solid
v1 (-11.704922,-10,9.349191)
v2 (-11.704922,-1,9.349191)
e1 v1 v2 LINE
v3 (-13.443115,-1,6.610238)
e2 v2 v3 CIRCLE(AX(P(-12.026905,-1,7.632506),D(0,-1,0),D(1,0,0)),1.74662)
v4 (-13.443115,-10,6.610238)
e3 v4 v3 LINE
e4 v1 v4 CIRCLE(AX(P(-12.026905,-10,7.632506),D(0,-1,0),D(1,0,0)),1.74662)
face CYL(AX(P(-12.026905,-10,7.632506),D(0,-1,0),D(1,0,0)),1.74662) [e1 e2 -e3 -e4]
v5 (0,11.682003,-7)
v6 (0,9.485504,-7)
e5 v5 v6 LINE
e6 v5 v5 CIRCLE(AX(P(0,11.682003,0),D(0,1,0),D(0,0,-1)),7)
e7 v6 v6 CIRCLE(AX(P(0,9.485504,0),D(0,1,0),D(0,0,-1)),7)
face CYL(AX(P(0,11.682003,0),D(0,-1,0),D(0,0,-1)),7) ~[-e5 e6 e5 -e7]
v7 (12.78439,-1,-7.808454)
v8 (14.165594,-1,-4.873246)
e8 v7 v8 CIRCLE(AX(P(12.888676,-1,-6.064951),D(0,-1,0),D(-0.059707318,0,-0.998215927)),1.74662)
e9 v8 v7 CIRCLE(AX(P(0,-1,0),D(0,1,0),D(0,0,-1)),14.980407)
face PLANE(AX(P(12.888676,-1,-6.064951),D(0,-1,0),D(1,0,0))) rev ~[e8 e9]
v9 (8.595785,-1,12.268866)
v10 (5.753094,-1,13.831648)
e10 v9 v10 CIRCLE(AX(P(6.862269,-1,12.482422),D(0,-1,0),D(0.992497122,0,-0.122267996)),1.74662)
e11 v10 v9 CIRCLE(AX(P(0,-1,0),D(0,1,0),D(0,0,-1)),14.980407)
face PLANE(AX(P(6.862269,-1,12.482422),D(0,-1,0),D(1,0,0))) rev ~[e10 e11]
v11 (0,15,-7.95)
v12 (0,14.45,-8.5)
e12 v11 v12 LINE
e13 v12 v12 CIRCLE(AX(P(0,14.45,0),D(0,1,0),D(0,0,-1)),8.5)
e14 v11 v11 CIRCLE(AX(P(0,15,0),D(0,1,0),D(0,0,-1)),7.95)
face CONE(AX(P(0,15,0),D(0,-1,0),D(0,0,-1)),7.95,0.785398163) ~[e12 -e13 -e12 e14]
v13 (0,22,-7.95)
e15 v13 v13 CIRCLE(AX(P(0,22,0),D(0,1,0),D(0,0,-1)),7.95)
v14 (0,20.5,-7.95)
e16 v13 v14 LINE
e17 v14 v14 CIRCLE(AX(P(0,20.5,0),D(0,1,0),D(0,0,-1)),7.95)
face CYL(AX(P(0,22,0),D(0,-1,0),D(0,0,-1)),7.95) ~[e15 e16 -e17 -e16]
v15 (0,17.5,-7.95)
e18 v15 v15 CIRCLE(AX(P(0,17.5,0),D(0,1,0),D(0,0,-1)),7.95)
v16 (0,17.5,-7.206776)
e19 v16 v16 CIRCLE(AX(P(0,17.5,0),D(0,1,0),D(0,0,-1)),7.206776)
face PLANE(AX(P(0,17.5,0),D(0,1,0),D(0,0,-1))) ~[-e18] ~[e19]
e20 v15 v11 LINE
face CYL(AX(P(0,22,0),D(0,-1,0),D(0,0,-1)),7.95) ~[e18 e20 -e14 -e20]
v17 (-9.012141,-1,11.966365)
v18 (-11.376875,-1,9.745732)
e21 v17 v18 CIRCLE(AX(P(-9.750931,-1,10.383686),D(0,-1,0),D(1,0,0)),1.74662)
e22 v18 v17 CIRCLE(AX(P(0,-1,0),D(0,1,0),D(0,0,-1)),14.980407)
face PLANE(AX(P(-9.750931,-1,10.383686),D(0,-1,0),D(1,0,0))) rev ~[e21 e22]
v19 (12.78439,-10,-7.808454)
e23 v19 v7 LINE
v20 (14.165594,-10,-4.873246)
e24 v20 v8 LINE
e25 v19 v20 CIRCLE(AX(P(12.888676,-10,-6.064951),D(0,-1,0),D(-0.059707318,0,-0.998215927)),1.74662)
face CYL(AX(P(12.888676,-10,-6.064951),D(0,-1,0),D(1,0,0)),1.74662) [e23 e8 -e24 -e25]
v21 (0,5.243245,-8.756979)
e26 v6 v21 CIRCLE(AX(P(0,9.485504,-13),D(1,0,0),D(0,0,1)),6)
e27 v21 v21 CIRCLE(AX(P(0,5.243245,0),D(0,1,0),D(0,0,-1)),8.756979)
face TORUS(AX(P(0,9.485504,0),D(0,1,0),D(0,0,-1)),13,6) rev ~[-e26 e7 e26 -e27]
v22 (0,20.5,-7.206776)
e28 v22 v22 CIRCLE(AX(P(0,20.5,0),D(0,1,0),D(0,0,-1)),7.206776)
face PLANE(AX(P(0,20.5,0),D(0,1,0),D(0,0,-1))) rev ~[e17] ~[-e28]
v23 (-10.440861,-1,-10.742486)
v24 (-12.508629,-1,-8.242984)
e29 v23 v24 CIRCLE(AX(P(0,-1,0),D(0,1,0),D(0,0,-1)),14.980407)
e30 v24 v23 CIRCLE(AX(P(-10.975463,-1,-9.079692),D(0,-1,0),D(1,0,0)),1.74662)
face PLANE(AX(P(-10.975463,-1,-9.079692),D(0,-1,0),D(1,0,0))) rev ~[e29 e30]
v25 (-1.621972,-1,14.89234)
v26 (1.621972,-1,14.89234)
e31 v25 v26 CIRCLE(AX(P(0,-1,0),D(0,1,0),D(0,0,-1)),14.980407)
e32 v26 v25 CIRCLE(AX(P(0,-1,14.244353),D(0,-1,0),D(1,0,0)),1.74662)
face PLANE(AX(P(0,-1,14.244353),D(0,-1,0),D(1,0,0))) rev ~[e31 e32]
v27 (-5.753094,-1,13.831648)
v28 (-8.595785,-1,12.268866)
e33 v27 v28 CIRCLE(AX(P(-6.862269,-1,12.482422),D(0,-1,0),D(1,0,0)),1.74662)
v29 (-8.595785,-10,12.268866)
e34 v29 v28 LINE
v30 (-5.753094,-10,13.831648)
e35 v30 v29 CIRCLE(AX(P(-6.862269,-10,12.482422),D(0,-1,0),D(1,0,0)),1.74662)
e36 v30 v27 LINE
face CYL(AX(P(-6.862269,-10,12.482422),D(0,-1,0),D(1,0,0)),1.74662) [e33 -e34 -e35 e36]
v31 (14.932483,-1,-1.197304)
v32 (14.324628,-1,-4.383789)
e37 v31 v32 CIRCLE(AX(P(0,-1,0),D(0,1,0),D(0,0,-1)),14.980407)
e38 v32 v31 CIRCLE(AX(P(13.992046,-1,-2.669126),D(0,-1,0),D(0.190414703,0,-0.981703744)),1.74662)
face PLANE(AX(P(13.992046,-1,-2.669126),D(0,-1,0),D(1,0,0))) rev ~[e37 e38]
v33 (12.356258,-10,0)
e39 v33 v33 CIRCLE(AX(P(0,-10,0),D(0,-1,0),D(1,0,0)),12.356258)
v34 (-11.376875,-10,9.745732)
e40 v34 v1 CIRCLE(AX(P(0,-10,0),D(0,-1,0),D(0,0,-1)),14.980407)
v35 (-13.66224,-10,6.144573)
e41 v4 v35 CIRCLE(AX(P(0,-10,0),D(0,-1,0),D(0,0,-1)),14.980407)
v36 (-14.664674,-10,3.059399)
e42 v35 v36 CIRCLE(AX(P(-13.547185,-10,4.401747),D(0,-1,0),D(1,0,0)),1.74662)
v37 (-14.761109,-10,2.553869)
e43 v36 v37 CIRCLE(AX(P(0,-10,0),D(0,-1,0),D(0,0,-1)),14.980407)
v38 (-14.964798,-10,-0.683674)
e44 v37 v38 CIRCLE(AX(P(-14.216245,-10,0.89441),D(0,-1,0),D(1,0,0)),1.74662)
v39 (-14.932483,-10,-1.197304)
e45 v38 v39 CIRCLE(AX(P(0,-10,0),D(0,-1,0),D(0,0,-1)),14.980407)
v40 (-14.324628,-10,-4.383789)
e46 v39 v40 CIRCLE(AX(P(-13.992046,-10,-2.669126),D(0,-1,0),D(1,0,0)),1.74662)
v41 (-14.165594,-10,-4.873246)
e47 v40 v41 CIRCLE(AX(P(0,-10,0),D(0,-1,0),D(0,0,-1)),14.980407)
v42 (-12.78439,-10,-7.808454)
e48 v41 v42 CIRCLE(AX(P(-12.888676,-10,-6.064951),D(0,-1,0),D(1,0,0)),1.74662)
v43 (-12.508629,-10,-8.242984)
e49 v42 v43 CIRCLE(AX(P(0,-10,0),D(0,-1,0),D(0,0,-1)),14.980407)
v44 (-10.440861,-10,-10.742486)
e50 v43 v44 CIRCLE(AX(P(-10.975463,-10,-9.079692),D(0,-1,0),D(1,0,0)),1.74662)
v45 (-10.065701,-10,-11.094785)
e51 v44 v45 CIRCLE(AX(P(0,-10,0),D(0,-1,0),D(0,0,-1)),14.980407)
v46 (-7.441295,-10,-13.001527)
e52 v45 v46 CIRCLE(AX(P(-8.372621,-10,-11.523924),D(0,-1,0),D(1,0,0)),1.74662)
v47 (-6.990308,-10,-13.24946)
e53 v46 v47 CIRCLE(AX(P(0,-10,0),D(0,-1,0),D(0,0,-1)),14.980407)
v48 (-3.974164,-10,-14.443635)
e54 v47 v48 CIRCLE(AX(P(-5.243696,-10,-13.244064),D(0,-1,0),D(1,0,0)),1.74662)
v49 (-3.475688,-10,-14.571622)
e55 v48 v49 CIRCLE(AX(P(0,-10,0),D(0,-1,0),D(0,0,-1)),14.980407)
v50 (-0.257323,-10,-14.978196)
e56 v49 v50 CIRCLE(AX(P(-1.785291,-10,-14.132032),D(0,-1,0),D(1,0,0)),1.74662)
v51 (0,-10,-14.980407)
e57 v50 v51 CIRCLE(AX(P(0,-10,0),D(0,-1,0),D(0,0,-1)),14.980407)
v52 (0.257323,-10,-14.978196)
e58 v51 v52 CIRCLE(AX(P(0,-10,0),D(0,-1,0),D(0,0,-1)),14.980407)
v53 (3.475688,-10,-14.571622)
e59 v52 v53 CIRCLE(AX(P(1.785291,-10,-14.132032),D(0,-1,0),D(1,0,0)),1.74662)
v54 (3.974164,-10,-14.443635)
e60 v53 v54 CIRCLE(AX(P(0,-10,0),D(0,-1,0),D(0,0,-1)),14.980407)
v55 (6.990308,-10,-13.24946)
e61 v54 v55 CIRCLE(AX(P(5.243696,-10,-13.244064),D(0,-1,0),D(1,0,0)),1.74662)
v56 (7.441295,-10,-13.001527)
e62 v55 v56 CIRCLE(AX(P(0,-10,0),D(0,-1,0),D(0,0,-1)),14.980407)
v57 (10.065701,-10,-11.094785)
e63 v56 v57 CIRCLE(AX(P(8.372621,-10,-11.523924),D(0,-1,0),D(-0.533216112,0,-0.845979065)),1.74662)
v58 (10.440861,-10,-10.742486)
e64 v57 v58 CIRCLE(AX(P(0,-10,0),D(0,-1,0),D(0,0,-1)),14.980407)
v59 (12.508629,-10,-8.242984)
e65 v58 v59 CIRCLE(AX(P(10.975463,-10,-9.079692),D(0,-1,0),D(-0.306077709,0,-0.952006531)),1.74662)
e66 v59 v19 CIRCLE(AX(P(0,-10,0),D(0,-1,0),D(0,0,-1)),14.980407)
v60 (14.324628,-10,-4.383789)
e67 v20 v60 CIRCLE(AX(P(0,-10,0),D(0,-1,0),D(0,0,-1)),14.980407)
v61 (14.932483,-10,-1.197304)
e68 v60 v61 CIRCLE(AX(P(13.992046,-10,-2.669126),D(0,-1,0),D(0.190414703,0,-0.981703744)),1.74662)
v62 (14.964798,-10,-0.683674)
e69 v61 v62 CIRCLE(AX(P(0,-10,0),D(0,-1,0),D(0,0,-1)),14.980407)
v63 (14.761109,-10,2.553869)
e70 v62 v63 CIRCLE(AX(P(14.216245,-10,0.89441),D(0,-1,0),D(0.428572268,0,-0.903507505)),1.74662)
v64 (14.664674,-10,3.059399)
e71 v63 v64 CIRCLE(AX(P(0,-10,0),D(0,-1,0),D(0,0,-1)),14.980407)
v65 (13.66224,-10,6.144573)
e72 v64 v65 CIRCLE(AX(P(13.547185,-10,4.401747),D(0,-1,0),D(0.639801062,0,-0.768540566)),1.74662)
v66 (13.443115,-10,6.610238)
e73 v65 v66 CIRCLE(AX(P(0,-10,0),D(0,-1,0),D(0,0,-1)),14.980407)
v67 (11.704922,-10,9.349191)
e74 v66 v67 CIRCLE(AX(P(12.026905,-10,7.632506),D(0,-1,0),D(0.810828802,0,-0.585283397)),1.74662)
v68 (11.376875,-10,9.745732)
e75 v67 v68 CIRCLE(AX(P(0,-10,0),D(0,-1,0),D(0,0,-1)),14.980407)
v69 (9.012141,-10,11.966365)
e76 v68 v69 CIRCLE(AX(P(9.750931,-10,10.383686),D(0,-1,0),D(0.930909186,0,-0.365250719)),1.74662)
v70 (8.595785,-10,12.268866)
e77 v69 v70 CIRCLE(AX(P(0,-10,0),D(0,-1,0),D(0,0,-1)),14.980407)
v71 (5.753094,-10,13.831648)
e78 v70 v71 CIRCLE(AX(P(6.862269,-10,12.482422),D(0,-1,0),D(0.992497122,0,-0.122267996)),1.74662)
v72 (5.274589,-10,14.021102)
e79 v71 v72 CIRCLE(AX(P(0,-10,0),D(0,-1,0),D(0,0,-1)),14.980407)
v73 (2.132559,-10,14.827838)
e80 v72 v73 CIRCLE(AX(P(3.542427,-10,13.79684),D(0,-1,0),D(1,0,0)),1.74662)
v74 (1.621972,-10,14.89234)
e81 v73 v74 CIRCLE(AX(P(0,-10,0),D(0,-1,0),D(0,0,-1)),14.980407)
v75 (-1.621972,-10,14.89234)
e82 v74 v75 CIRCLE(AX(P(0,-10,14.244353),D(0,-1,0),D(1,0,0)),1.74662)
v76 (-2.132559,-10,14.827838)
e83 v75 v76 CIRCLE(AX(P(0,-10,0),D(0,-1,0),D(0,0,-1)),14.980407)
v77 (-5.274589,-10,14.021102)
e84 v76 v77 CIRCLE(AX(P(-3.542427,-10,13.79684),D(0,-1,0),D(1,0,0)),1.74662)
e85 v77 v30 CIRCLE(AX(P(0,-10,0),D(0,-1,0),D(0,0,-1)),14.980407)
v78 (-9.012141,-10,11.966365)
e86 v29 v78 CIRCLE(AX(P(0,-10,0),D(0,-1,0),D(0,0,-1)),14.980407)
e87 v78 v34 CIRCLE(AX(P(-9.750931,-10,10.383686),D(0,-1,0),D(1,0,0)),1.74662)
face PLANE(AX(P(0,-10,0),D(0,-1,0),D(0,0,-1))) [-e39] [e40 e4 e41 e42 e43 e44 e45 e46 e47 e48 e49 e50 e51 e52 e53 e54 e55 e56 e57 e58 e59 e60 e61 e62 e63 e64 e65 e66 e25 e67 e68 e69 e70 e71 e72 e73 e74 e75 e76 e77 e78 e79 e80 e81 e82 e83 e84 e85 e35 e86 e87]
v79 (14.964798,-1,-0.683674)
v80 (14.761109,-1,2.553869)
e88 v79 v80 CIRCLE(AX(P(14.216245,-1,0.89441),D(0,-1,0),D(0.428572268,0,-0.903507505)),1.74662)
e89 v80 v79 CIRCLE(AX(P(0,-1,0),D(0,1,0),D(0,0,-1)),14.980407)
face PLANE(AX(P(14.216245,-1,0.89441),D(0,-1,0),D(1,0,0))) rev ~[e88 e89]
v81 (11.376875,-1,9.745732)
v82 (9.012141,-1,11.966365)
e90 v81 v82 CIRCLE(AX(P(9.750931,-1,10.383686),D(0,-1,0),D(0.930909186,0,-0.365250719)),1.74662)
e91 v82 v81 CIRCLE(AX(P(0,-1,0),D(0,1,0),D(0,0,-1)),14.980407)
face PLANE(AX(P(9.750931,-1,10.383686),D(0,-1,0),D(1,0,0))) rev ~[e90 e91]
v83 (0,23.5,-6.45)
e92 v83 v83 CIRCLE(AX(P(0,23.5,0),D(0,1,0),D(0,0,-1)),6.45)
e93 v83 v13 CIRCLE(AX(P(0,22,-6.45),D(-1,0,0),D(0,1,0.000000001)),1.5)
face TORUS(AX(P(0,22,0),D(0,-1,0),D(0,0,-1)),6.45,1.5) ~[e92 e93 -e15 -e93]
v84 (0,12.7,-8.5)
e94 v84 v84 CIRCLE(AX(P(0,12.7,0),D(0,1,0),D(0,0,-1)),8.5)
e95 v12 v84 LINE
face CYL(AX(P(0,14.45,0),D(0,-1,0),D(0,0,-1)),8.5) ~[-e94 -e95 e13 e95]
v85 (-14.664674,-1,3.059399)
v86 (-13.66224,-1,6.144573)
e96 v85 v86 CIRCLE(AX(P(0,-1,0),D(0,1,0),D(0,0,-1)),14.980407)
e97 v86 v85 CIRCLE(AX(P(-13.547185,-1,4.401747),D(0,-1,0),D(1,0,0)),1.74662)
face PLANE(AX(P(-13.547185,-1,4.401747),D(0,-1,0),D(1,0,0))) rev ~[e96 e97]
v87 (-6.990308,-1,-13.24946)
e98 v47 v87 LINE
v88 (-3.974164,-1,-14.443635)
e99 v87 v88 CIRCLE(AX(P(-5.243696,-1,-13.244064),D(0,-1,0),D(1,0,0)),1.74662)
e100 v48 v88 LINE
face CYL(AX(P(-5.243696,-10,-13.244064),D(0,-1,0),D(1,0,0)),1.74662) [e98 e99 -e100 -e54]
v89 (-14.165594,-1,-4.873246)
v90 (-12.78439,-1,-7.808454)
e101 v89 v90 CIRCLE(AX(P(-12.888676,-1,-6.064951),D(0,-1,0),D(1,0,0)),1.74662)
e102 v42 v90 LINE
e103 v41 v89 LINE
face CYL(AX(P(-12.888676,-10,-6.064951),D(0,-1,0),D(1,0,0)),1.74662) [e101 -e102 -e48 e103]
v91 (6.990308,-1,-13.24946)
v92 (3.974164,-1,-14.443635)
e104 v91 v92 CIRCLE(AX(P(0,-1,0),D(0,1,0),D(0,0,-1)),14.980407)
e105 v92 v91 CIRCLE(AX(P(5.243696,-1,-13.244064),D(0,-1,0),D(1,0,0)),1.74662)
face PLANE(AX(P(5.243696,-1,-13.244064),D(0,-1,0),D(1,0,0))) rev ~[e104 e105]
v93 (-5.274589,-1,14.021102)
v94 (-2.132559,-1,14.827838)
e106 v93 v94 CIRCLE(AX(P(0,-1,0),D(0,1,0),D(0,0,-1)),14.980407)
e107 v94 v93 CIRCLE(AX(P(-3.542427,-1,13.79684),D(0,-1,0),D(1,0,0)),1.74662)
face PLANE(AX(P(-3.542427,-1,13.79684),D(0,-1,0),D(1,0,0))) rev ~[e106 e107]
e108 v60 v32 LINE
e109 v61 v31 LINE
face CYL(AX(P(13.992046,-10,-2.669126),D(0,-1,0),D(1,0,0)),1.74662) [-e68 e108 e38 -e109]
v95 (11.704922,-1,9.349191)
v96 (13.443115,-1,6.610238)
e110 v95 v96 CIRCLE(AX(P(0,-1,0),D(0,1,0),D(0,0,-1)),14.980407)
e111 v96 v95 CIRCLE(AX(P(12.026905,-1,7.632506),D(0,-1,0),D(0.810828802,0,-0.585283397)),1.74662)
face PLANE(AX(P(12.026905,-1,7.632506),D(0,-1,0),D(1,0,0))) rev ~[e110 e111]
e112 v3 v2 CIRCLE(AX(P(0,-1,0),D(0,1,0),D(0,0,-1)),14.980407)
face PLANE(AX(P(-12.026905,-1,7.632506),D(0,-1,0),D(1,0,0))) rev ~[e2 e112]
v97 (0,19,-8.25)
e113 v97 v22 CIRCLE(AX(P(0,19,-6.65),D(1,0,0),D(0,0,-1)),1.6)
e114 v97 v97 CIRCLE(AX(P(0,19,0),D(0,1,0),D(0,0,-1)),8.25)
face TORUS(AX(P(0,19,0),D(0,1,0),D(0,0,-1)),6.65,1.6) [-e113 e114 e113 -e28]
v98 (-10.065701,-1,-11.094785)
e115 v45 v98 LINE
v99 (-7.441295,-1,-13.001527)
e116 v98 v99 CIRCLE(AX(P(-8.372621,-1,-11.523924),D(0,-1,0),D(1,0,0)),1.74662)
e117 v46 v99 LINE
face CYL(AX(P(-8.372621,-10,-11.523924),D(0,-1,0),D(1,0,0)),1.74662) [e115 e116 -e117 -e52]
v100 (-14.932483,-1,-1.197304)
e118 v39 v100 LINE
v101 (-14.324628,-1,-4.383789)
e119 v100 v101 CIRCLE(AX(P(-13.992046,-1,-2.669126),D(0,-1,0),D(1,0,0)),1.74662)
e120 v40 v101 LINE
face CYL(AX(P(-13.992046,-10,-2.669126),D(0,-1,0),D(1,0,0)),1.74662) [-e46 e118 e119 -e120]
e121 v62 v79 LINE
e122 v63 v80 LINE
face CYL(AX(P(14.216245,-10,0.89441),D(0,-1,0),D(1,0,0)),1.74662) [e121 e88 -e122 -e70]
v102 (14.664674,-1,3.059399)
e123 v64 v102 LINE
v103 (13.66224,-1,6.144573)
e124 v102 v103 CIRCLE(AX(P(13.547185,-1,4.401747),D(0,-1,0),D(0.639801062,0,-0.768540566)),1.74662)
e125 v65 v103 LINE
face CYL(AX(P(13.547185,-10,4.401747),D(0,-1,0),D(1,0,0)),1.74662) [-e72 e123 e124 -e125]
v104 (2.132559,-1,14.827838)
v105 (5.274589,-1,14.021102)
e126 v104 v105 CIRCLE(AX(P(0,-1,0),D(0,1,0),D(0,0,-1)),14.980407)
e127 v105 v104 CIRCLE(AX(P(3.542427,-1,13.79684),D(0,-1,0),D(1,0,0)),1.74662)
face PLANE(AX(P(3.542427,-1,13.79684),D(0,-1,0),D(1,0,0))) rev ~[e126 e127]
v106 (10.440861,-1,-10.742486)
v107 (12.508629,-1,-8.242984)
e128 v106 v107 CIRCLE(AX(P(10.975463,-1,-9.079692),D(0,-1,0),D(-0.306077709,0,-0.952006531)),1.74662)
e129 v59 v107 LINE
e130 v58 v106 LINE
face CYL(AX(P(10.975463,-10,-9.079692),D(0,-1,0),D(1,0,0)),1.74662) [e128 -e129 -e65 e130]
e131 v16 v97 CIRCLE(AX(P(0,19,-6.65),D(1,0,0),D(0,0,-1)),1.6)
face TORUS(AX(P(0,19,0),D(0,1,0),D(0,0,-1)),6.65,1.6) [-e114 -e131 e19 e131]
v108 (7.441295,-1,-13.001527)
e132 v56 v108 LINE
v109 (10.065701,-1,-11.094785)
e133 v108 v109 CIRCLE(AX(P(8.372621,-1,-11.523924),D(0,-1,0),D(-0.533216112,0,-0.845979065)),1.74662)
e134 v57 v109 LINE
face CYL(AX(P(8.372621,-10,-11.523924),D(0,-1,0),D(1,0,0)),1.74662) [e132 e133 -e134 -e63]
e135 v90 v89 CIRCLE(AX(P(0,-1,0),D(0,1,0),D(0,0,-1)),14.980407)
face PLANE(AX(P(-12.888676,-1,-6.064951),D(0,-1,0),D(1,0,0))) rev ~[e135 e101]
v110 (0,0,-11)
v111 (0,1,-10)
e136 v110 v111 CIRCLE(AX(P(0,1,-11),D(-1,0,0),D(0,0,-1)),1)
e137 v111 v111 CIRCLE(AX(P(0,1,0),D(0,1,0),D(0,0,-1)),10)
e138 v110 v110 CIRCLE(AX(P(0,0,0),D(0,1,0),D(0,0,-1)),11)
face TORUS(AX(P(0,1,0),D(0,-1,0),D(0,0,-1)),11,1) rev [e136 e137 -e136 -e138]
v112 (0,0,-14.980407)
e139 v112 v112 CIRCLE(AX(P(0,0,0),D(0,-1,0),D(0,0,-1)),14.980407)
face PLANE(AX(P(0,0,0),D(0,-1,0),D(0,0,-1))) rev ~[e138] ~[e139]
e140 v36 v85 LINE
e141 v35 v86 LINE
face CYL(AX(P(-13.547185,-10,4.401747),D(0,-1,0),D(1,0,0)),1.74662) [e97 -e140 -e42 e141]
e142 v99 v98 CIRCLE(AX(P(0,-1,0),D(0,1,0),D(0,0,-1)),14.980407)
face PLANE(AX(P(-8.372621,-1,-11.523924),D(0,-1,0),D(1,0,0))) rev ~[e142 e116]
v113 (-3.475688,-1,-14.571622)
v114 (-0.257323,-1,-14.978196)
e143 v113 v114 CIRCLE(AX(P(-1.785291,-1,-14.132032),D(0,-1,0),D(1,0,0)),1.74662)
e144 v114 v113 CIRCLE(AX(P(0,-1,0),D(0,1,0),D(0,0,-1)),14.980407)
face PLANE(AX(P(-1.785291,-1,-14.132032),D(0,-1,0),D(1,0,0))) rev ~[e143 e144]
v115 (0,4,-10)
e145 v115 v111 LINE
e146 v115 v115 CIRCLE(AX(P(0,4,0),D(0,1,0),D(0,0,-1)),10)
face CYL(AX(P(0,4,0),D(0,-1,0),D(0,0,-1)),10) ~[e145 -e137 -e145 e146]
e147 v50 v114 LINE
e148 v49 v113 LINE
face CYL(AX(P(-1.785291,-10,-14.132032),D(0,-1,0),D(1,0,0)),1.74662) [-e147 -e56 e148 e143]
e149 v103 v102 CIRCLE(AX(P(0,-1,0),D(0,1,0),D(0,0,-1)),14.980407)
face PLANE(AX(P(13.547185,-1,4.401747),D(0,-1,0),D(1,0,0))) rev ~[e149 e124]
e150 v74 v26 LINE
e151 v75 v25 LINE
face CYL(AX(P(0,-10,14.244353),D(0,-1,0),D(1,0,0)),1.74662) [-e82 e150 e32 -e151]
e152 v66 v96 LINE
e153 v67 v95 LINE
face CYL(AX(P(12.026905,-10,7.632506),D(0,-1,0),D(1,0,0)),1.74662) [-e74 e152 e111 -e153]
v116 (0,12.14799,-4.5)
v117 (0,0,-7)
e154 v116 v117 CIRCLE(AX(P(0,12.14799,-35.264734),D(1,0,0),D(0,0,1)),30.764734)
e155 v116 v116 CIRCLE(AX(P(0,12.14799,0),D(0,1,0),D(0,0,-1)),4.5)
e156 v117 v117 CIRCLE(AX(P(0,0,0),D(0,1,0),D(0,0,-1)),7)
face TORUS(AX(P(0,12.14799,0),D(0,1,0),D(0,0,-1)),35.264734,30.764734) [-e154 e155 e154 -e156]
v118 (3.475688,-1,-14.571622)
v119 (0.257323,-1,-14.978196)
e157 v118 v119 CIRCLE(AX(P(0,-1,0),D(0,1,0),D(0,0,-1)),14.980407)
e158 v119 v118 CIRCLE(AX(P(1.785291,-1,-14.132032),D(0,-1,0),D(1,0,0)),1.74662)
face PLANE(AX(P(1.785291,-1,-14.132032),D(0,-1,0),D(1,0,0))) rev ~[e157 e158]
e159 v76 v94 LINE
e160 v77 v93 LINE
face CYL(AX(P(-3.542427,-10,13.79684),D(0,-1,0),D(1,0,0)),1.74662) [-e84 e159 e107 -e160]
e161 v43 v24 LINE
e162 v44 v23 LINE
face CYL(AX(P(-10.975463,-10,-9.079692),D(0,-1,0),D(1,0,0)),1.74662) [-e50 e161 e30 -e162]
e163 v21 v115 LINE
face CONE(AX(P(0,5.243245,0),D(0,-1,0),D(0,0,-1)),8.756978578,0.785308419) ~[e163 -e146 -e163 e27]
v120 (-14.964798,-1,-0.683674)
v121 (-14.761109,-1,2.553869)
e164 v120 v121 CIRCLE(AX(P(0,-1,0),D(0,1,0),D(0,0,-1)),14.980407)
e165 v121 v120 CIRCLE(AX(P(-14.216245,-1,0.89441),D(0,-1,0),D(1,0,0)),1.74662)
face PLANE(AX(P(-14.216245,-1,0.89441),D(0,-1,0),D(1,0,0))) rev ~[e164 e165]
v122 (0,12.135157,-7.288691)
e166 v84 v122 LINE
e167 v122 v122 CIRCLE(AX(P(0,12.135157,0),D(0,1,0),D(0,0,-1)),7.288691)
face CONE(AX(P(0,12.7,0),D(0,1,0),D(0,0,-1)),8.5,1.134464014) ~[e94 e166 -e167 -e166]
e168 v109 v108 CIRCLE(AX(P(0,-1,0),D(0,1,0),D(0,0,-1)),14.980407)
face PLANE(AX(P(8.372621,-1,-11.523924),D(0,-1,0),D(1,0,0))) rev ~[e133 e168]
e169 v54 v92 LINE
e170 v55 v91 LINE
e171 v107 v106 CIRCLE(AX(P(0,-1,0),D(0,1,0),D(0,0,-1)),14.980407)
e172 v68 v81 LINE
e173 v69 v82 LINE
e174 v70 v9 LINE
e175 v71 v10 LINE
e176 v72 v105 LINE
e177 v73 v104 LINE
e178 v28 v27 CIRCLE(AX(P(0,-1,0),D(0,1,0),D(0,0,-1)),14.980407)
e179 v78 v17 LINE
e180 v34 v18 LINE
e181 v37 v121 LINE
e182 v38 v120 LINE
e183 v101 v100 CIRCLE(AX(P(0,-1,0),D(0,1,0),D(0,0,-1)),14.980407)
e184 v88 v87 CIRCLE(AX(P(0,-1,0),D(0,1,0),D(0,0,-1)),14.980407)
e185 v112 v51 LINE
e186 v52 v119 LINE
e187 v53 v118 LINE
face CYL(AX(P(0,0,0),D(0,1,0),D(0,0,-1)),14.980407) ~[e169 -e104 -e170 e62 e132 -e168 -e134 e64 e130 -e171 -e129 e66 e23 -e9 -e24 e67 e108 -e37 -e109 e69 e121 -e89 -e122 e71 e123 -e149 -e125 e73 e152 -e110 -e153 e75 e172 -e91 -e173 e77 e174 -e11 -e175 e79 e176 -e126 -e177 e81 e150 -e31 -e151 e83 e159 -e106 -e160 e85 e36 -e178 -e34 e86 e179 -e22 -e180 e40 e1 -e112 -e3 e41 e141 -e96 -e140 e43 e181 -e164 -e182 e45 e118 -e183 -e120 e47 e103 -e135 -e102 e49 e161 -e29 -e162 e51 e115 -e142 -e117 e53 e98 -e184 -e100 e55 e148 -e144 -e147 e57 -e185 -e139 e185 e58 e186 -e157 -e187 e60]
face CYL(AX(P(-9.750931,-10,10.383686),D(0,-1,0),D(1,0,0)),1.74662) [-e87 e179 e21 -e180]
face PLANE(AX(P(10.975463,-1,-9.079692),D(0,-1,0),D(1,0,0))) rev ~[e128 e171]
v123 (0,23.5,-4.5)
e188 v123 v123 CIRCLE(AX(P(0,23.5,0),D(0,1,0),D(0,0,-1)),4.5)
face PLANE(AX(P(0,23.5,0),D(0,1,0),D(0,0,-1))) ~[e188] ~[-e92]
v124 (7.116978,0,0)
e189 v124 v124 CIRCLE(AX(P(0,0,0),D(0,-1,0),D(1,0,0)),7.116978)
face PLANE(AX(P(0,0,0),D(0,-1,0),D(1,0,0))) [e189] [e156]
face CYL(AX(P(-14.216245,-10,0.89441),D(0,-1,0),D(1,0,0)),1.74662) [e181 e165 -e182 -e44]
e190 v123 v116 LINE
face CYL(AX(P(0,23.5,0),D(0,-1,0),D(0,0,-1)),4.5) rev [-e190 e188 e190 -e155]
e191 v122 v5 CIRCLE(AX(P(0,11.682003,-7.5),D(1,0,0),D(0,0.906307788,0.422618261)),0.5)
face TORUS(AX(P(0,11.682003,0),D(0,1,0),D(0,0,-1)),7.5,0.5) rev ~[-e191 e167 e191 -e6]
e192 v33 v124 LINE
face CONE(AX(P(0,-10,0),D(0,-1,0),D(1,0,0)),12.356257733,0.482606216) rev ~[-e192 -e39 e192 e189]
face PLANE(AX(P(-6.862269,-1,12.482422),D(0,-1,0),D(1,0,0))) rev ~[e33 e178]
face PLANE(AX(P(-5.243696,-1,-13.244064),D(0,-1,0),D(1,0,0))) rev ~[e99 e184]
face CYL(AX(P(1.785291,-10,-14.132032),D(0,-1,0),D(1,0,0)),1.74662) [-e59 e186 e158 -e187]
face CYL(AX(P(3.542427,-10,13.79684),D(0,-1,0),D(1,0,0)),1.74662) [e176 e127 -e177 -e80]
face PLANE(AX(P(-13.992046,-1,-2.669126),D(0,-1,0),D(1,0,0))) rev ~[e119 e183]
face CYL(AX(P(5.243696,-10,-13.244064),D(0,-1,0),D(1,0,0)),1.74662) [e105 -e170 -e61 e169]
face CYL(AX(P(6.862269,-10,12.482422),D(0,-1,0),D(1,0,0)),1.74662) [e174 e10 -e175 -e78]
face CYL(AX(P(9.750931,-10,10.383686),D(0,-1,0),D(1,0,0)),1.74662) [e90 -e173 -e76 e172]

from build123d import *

# Parameters (mm, degrees)
SKETCH4_R           = 14.980406648
BOSS_EXTRUDE1_DEPTH = 10
SKETCH5_R           = 1.746619854
BOSS_EXTRUDE2_DEPTH = 9
SKETCH6_R           = 12.356257733
CUT_EXTRUDE1_DEPTH  = 10
CUT_EXTRUDE1_DRAFT  = -27.651299327
FILLET3_R           = 1
SKETCH7_R           = 1.6


with BuildPart() as part:
    # Sketch1 → Revolve1 (revolve)
    with BuildSketch(Plane.XY, mode=Mode.PRIVATE) as revolve1_sk:
        with BuildLine():
            Line((0, 23.5), (6.45, 23.5))
            ThreePointArc((6.45, 23.5), (7.510660172, 23.060660172), (7.95, 22))
            Line((7.95, 22), (7.95, 15))
            Line((7.95, 15), (8.5, 14.45))
            Line((8.5, 14.45), (8.5, 12.7))
            Line((8.5, 12.7), (7.288690869, 12.135157276))
            ThreePointArc((7.288690869, 12.135157276), (7.078304277, 11.950653187), (7, 11.682003382))
            Line((7, 11.682003382), (7, 9.485504468))
            ThreePointArc((7, 9.485504468), (7.45661978, 7.189652614), (8.756978578, 5.24324455))
            Line((8.756978578, 5.24324455), (10, 4))
            Line((10, 4), (10, 0))
            Line((10, 0), (0, 0))
            Line((0, 0), (0, 23.5))
        make_face()
    revolve(revolve1_sk.sketch.rotate(Axis((0, 0, 0), (0, 1, 0)), 90), axis=Axis((0, 0, 0), (0, 1, 0)))

    # Sketch2 → Cut-Revolve1 (revolve, cut)
    with BuildSketch(Plane.XY, mode=Mode.PRIVATE) as cut_revolve1_sk:
        with BuildLine():
            Line((7.95, 20.5), (6.25, 20.5))
            ThreePointArc((6.25, 20.5), (5.896446609, 20.353553391), (5.75, 20))
            Line((5.75, 20), (5.75, 18))
            ThreePointArc((5.75, 18), (5.896446609, 17.646446609), (6.25, 17.5))
            Line((6.25, 17.5), (7.95, 17.5))
            Line((7.95, 17.5), (7.95, 20.5))
        make_face()
    revolve(cut_revolve1_sk.sketch.rotate(Axis((0, 0, 0), (0, 1, 0)), 90), axis=Axis((0, 0, 0), (0, 1, 0)), mode=Mode.SUBTRACT)

    # Sketch3 → Cut-Revolve2 (revolve, cut)
    with BuildSketch(Plane.XY, mode=Mode.PRIVATE) as cut_revolve2_sk:
        with BuildLine():
            Line((0, 23.5), (4.5, 23.5))
            Line((4.5, 23.5), (4.5, 12.147990443))
            ThreePointArc((4.5, 12.147990443), (5.13148093, 5.94670687), (7, 0))
            Line((7, 0), (0, 0))
            Line((0, 0), (0, 23.5))
        make_face()
    revolve(cut_revolve2_sk.sketch.rotate(Axis((0, 0, 0), (0, 1, 0)), 90), axis=Axis((0, 0, 0), (0, 1, 0)), mode=Mode.SUBTRACT)

    # Sketch4 → Boss-Extrude1 (add)
    with BuildSketch(Plane.XZ):
        with Locations(Location((0, 0, 0), (0, 0, 270))):
            Circle(SKETCH4_R)
    extrude(amount=BOSS_EXTRUDE1_DEPTH)

    # Sketch5 → Boss-Extrude2 (add)
    with BuildSketch(Plane.XZ.offset(10)):
        with Locations((0, 14.244352952)):
            Circle(SKETCH5_R)
        with Locations((3.542426528, 13.796840411)):
            Circle(SKETCH5_R)
        with Locations((6.86226937, 12.482421645)):
            Circle(SKETCH5_R)
        with Locations((9.750930589, 10.38368642)):
            Circle(SKETCH5_R)
        with Locations((12.026904978, 7.632505989)):
            Circle(SKETCH5_R)
        with Locations((13.547184696, 4.401747136)):
            Circle(SKETCH5_R)
        with Locations((14.216244976, 0.894410322)):
            Circle(SKETCH5_R)
        with Locations((13.9920463, -2.669125582)):
            Circle(SKETCH5_R)
        with Locations((12.888675896, -6.064950509)):
            Circle(SKETCH5_R)
        with Locations((10.975462585, -9.07969229)):
            Circle(SKETCH5_R)
        with Locations((8.372620594, -11.523923612)):
            Circle(SKETCH5_R)
        with Locations((5.243696059, -13.244064432)):
            Circle(SKETCH5_R)
        with Locations((1.785290816, -14.132031975)):
            Circle(SKETCH5_R)
        with Locations((-1.785290816, -14.132031975)):
            Circle(SKETCH5_R)
        with Locations((-5.243696059, -13.244064432)):
            Circle(SKETCH5_R)
        with Locations((-8.372620594, -11.523923612)):
            Circle(SKETCH5_R)
        with Locations((-10.975462585, -9.07969229)):
            Circle(SKETCH5_R)
        with Locations((-12.888675896, -6.064950509)):
            Circle(SKETCH5_R)
        with Locations((-13.9920463, -2.669125582)):
            Circle(SKETCH5_R)
        with Locations((-14.216244976, 0.894410322)):
            Circle(SKETCH5_R)
        with Locations((-13.547184696, 4.401747136)):
            Circle(SKETCH5_R)
        with Locations((-12.026904978, 7.632505989)):
            Circle(SKETCH5_R)
        with Locations((-9.750930589, 10.38368642)):
            Circle(SKETCH5_R)
        with Locations((-6.86226937, 12.482421645)):
            Circle(SKETCH5_R)
        with Locations((-3.542426528, 13.796840411)):
            Circle(SKETCH5_R)
    extrude(amount=-BOSS_EXTRUDE2_DEPTH)


with BuildPart() as cut_extrude1_tool:
    # Sketch6 → Cut-Extrude1 (with draft: the straight prism first)
    with BuildSketch(Plane.XZ.offset(10)):
        Circle(SKETCH6_R)
    extrude(amount=-CUT_EXTRUDE1_DEPTH)
    # Cut-Extrude1: the draft: its side faces are tilted about the plane it starts from
    cut_extrude1_sides = [cut_extrude1_tool.faces().sort_by_distance(p)[0] for p in [
        (-12.356257733, -5, 0),
    ]]
    draft(cut_extrude1_sides, Plane.XZ.offset(10), CUT_EXTRUDE1_DRAFT)


with BuildPart() as part_1:
    add(part.part)

    # Cut-Extrude1: cut by cut_extrude1_tool
    add(cut_extrude1_tool.part, mode=Mode.SUBTRACT)

    # Fillet3
    fillet3_edges = [part_1.edges().sort_by_distance(p)[0] for p in [
        (0, 0, 10),
    ]]
    fillet(fillet3_edges, radius=FILLET3_R)

    # Sketch7 → Revolve2 (revolve)
    with BuildSketch(Plane.XY, mode=Mode.PRIVATE) as revolve2_sk:
        with Locations((6.65, 19)):
            Circle(SKETCH7_R)
    revolve(revolve2_sk.sketch.rotate(Axis((0, 0, 0), (0, 1, 0)), 90), axis=Axis((0, 0, 0), (0, 1, 0)))


solid = part_1.part
